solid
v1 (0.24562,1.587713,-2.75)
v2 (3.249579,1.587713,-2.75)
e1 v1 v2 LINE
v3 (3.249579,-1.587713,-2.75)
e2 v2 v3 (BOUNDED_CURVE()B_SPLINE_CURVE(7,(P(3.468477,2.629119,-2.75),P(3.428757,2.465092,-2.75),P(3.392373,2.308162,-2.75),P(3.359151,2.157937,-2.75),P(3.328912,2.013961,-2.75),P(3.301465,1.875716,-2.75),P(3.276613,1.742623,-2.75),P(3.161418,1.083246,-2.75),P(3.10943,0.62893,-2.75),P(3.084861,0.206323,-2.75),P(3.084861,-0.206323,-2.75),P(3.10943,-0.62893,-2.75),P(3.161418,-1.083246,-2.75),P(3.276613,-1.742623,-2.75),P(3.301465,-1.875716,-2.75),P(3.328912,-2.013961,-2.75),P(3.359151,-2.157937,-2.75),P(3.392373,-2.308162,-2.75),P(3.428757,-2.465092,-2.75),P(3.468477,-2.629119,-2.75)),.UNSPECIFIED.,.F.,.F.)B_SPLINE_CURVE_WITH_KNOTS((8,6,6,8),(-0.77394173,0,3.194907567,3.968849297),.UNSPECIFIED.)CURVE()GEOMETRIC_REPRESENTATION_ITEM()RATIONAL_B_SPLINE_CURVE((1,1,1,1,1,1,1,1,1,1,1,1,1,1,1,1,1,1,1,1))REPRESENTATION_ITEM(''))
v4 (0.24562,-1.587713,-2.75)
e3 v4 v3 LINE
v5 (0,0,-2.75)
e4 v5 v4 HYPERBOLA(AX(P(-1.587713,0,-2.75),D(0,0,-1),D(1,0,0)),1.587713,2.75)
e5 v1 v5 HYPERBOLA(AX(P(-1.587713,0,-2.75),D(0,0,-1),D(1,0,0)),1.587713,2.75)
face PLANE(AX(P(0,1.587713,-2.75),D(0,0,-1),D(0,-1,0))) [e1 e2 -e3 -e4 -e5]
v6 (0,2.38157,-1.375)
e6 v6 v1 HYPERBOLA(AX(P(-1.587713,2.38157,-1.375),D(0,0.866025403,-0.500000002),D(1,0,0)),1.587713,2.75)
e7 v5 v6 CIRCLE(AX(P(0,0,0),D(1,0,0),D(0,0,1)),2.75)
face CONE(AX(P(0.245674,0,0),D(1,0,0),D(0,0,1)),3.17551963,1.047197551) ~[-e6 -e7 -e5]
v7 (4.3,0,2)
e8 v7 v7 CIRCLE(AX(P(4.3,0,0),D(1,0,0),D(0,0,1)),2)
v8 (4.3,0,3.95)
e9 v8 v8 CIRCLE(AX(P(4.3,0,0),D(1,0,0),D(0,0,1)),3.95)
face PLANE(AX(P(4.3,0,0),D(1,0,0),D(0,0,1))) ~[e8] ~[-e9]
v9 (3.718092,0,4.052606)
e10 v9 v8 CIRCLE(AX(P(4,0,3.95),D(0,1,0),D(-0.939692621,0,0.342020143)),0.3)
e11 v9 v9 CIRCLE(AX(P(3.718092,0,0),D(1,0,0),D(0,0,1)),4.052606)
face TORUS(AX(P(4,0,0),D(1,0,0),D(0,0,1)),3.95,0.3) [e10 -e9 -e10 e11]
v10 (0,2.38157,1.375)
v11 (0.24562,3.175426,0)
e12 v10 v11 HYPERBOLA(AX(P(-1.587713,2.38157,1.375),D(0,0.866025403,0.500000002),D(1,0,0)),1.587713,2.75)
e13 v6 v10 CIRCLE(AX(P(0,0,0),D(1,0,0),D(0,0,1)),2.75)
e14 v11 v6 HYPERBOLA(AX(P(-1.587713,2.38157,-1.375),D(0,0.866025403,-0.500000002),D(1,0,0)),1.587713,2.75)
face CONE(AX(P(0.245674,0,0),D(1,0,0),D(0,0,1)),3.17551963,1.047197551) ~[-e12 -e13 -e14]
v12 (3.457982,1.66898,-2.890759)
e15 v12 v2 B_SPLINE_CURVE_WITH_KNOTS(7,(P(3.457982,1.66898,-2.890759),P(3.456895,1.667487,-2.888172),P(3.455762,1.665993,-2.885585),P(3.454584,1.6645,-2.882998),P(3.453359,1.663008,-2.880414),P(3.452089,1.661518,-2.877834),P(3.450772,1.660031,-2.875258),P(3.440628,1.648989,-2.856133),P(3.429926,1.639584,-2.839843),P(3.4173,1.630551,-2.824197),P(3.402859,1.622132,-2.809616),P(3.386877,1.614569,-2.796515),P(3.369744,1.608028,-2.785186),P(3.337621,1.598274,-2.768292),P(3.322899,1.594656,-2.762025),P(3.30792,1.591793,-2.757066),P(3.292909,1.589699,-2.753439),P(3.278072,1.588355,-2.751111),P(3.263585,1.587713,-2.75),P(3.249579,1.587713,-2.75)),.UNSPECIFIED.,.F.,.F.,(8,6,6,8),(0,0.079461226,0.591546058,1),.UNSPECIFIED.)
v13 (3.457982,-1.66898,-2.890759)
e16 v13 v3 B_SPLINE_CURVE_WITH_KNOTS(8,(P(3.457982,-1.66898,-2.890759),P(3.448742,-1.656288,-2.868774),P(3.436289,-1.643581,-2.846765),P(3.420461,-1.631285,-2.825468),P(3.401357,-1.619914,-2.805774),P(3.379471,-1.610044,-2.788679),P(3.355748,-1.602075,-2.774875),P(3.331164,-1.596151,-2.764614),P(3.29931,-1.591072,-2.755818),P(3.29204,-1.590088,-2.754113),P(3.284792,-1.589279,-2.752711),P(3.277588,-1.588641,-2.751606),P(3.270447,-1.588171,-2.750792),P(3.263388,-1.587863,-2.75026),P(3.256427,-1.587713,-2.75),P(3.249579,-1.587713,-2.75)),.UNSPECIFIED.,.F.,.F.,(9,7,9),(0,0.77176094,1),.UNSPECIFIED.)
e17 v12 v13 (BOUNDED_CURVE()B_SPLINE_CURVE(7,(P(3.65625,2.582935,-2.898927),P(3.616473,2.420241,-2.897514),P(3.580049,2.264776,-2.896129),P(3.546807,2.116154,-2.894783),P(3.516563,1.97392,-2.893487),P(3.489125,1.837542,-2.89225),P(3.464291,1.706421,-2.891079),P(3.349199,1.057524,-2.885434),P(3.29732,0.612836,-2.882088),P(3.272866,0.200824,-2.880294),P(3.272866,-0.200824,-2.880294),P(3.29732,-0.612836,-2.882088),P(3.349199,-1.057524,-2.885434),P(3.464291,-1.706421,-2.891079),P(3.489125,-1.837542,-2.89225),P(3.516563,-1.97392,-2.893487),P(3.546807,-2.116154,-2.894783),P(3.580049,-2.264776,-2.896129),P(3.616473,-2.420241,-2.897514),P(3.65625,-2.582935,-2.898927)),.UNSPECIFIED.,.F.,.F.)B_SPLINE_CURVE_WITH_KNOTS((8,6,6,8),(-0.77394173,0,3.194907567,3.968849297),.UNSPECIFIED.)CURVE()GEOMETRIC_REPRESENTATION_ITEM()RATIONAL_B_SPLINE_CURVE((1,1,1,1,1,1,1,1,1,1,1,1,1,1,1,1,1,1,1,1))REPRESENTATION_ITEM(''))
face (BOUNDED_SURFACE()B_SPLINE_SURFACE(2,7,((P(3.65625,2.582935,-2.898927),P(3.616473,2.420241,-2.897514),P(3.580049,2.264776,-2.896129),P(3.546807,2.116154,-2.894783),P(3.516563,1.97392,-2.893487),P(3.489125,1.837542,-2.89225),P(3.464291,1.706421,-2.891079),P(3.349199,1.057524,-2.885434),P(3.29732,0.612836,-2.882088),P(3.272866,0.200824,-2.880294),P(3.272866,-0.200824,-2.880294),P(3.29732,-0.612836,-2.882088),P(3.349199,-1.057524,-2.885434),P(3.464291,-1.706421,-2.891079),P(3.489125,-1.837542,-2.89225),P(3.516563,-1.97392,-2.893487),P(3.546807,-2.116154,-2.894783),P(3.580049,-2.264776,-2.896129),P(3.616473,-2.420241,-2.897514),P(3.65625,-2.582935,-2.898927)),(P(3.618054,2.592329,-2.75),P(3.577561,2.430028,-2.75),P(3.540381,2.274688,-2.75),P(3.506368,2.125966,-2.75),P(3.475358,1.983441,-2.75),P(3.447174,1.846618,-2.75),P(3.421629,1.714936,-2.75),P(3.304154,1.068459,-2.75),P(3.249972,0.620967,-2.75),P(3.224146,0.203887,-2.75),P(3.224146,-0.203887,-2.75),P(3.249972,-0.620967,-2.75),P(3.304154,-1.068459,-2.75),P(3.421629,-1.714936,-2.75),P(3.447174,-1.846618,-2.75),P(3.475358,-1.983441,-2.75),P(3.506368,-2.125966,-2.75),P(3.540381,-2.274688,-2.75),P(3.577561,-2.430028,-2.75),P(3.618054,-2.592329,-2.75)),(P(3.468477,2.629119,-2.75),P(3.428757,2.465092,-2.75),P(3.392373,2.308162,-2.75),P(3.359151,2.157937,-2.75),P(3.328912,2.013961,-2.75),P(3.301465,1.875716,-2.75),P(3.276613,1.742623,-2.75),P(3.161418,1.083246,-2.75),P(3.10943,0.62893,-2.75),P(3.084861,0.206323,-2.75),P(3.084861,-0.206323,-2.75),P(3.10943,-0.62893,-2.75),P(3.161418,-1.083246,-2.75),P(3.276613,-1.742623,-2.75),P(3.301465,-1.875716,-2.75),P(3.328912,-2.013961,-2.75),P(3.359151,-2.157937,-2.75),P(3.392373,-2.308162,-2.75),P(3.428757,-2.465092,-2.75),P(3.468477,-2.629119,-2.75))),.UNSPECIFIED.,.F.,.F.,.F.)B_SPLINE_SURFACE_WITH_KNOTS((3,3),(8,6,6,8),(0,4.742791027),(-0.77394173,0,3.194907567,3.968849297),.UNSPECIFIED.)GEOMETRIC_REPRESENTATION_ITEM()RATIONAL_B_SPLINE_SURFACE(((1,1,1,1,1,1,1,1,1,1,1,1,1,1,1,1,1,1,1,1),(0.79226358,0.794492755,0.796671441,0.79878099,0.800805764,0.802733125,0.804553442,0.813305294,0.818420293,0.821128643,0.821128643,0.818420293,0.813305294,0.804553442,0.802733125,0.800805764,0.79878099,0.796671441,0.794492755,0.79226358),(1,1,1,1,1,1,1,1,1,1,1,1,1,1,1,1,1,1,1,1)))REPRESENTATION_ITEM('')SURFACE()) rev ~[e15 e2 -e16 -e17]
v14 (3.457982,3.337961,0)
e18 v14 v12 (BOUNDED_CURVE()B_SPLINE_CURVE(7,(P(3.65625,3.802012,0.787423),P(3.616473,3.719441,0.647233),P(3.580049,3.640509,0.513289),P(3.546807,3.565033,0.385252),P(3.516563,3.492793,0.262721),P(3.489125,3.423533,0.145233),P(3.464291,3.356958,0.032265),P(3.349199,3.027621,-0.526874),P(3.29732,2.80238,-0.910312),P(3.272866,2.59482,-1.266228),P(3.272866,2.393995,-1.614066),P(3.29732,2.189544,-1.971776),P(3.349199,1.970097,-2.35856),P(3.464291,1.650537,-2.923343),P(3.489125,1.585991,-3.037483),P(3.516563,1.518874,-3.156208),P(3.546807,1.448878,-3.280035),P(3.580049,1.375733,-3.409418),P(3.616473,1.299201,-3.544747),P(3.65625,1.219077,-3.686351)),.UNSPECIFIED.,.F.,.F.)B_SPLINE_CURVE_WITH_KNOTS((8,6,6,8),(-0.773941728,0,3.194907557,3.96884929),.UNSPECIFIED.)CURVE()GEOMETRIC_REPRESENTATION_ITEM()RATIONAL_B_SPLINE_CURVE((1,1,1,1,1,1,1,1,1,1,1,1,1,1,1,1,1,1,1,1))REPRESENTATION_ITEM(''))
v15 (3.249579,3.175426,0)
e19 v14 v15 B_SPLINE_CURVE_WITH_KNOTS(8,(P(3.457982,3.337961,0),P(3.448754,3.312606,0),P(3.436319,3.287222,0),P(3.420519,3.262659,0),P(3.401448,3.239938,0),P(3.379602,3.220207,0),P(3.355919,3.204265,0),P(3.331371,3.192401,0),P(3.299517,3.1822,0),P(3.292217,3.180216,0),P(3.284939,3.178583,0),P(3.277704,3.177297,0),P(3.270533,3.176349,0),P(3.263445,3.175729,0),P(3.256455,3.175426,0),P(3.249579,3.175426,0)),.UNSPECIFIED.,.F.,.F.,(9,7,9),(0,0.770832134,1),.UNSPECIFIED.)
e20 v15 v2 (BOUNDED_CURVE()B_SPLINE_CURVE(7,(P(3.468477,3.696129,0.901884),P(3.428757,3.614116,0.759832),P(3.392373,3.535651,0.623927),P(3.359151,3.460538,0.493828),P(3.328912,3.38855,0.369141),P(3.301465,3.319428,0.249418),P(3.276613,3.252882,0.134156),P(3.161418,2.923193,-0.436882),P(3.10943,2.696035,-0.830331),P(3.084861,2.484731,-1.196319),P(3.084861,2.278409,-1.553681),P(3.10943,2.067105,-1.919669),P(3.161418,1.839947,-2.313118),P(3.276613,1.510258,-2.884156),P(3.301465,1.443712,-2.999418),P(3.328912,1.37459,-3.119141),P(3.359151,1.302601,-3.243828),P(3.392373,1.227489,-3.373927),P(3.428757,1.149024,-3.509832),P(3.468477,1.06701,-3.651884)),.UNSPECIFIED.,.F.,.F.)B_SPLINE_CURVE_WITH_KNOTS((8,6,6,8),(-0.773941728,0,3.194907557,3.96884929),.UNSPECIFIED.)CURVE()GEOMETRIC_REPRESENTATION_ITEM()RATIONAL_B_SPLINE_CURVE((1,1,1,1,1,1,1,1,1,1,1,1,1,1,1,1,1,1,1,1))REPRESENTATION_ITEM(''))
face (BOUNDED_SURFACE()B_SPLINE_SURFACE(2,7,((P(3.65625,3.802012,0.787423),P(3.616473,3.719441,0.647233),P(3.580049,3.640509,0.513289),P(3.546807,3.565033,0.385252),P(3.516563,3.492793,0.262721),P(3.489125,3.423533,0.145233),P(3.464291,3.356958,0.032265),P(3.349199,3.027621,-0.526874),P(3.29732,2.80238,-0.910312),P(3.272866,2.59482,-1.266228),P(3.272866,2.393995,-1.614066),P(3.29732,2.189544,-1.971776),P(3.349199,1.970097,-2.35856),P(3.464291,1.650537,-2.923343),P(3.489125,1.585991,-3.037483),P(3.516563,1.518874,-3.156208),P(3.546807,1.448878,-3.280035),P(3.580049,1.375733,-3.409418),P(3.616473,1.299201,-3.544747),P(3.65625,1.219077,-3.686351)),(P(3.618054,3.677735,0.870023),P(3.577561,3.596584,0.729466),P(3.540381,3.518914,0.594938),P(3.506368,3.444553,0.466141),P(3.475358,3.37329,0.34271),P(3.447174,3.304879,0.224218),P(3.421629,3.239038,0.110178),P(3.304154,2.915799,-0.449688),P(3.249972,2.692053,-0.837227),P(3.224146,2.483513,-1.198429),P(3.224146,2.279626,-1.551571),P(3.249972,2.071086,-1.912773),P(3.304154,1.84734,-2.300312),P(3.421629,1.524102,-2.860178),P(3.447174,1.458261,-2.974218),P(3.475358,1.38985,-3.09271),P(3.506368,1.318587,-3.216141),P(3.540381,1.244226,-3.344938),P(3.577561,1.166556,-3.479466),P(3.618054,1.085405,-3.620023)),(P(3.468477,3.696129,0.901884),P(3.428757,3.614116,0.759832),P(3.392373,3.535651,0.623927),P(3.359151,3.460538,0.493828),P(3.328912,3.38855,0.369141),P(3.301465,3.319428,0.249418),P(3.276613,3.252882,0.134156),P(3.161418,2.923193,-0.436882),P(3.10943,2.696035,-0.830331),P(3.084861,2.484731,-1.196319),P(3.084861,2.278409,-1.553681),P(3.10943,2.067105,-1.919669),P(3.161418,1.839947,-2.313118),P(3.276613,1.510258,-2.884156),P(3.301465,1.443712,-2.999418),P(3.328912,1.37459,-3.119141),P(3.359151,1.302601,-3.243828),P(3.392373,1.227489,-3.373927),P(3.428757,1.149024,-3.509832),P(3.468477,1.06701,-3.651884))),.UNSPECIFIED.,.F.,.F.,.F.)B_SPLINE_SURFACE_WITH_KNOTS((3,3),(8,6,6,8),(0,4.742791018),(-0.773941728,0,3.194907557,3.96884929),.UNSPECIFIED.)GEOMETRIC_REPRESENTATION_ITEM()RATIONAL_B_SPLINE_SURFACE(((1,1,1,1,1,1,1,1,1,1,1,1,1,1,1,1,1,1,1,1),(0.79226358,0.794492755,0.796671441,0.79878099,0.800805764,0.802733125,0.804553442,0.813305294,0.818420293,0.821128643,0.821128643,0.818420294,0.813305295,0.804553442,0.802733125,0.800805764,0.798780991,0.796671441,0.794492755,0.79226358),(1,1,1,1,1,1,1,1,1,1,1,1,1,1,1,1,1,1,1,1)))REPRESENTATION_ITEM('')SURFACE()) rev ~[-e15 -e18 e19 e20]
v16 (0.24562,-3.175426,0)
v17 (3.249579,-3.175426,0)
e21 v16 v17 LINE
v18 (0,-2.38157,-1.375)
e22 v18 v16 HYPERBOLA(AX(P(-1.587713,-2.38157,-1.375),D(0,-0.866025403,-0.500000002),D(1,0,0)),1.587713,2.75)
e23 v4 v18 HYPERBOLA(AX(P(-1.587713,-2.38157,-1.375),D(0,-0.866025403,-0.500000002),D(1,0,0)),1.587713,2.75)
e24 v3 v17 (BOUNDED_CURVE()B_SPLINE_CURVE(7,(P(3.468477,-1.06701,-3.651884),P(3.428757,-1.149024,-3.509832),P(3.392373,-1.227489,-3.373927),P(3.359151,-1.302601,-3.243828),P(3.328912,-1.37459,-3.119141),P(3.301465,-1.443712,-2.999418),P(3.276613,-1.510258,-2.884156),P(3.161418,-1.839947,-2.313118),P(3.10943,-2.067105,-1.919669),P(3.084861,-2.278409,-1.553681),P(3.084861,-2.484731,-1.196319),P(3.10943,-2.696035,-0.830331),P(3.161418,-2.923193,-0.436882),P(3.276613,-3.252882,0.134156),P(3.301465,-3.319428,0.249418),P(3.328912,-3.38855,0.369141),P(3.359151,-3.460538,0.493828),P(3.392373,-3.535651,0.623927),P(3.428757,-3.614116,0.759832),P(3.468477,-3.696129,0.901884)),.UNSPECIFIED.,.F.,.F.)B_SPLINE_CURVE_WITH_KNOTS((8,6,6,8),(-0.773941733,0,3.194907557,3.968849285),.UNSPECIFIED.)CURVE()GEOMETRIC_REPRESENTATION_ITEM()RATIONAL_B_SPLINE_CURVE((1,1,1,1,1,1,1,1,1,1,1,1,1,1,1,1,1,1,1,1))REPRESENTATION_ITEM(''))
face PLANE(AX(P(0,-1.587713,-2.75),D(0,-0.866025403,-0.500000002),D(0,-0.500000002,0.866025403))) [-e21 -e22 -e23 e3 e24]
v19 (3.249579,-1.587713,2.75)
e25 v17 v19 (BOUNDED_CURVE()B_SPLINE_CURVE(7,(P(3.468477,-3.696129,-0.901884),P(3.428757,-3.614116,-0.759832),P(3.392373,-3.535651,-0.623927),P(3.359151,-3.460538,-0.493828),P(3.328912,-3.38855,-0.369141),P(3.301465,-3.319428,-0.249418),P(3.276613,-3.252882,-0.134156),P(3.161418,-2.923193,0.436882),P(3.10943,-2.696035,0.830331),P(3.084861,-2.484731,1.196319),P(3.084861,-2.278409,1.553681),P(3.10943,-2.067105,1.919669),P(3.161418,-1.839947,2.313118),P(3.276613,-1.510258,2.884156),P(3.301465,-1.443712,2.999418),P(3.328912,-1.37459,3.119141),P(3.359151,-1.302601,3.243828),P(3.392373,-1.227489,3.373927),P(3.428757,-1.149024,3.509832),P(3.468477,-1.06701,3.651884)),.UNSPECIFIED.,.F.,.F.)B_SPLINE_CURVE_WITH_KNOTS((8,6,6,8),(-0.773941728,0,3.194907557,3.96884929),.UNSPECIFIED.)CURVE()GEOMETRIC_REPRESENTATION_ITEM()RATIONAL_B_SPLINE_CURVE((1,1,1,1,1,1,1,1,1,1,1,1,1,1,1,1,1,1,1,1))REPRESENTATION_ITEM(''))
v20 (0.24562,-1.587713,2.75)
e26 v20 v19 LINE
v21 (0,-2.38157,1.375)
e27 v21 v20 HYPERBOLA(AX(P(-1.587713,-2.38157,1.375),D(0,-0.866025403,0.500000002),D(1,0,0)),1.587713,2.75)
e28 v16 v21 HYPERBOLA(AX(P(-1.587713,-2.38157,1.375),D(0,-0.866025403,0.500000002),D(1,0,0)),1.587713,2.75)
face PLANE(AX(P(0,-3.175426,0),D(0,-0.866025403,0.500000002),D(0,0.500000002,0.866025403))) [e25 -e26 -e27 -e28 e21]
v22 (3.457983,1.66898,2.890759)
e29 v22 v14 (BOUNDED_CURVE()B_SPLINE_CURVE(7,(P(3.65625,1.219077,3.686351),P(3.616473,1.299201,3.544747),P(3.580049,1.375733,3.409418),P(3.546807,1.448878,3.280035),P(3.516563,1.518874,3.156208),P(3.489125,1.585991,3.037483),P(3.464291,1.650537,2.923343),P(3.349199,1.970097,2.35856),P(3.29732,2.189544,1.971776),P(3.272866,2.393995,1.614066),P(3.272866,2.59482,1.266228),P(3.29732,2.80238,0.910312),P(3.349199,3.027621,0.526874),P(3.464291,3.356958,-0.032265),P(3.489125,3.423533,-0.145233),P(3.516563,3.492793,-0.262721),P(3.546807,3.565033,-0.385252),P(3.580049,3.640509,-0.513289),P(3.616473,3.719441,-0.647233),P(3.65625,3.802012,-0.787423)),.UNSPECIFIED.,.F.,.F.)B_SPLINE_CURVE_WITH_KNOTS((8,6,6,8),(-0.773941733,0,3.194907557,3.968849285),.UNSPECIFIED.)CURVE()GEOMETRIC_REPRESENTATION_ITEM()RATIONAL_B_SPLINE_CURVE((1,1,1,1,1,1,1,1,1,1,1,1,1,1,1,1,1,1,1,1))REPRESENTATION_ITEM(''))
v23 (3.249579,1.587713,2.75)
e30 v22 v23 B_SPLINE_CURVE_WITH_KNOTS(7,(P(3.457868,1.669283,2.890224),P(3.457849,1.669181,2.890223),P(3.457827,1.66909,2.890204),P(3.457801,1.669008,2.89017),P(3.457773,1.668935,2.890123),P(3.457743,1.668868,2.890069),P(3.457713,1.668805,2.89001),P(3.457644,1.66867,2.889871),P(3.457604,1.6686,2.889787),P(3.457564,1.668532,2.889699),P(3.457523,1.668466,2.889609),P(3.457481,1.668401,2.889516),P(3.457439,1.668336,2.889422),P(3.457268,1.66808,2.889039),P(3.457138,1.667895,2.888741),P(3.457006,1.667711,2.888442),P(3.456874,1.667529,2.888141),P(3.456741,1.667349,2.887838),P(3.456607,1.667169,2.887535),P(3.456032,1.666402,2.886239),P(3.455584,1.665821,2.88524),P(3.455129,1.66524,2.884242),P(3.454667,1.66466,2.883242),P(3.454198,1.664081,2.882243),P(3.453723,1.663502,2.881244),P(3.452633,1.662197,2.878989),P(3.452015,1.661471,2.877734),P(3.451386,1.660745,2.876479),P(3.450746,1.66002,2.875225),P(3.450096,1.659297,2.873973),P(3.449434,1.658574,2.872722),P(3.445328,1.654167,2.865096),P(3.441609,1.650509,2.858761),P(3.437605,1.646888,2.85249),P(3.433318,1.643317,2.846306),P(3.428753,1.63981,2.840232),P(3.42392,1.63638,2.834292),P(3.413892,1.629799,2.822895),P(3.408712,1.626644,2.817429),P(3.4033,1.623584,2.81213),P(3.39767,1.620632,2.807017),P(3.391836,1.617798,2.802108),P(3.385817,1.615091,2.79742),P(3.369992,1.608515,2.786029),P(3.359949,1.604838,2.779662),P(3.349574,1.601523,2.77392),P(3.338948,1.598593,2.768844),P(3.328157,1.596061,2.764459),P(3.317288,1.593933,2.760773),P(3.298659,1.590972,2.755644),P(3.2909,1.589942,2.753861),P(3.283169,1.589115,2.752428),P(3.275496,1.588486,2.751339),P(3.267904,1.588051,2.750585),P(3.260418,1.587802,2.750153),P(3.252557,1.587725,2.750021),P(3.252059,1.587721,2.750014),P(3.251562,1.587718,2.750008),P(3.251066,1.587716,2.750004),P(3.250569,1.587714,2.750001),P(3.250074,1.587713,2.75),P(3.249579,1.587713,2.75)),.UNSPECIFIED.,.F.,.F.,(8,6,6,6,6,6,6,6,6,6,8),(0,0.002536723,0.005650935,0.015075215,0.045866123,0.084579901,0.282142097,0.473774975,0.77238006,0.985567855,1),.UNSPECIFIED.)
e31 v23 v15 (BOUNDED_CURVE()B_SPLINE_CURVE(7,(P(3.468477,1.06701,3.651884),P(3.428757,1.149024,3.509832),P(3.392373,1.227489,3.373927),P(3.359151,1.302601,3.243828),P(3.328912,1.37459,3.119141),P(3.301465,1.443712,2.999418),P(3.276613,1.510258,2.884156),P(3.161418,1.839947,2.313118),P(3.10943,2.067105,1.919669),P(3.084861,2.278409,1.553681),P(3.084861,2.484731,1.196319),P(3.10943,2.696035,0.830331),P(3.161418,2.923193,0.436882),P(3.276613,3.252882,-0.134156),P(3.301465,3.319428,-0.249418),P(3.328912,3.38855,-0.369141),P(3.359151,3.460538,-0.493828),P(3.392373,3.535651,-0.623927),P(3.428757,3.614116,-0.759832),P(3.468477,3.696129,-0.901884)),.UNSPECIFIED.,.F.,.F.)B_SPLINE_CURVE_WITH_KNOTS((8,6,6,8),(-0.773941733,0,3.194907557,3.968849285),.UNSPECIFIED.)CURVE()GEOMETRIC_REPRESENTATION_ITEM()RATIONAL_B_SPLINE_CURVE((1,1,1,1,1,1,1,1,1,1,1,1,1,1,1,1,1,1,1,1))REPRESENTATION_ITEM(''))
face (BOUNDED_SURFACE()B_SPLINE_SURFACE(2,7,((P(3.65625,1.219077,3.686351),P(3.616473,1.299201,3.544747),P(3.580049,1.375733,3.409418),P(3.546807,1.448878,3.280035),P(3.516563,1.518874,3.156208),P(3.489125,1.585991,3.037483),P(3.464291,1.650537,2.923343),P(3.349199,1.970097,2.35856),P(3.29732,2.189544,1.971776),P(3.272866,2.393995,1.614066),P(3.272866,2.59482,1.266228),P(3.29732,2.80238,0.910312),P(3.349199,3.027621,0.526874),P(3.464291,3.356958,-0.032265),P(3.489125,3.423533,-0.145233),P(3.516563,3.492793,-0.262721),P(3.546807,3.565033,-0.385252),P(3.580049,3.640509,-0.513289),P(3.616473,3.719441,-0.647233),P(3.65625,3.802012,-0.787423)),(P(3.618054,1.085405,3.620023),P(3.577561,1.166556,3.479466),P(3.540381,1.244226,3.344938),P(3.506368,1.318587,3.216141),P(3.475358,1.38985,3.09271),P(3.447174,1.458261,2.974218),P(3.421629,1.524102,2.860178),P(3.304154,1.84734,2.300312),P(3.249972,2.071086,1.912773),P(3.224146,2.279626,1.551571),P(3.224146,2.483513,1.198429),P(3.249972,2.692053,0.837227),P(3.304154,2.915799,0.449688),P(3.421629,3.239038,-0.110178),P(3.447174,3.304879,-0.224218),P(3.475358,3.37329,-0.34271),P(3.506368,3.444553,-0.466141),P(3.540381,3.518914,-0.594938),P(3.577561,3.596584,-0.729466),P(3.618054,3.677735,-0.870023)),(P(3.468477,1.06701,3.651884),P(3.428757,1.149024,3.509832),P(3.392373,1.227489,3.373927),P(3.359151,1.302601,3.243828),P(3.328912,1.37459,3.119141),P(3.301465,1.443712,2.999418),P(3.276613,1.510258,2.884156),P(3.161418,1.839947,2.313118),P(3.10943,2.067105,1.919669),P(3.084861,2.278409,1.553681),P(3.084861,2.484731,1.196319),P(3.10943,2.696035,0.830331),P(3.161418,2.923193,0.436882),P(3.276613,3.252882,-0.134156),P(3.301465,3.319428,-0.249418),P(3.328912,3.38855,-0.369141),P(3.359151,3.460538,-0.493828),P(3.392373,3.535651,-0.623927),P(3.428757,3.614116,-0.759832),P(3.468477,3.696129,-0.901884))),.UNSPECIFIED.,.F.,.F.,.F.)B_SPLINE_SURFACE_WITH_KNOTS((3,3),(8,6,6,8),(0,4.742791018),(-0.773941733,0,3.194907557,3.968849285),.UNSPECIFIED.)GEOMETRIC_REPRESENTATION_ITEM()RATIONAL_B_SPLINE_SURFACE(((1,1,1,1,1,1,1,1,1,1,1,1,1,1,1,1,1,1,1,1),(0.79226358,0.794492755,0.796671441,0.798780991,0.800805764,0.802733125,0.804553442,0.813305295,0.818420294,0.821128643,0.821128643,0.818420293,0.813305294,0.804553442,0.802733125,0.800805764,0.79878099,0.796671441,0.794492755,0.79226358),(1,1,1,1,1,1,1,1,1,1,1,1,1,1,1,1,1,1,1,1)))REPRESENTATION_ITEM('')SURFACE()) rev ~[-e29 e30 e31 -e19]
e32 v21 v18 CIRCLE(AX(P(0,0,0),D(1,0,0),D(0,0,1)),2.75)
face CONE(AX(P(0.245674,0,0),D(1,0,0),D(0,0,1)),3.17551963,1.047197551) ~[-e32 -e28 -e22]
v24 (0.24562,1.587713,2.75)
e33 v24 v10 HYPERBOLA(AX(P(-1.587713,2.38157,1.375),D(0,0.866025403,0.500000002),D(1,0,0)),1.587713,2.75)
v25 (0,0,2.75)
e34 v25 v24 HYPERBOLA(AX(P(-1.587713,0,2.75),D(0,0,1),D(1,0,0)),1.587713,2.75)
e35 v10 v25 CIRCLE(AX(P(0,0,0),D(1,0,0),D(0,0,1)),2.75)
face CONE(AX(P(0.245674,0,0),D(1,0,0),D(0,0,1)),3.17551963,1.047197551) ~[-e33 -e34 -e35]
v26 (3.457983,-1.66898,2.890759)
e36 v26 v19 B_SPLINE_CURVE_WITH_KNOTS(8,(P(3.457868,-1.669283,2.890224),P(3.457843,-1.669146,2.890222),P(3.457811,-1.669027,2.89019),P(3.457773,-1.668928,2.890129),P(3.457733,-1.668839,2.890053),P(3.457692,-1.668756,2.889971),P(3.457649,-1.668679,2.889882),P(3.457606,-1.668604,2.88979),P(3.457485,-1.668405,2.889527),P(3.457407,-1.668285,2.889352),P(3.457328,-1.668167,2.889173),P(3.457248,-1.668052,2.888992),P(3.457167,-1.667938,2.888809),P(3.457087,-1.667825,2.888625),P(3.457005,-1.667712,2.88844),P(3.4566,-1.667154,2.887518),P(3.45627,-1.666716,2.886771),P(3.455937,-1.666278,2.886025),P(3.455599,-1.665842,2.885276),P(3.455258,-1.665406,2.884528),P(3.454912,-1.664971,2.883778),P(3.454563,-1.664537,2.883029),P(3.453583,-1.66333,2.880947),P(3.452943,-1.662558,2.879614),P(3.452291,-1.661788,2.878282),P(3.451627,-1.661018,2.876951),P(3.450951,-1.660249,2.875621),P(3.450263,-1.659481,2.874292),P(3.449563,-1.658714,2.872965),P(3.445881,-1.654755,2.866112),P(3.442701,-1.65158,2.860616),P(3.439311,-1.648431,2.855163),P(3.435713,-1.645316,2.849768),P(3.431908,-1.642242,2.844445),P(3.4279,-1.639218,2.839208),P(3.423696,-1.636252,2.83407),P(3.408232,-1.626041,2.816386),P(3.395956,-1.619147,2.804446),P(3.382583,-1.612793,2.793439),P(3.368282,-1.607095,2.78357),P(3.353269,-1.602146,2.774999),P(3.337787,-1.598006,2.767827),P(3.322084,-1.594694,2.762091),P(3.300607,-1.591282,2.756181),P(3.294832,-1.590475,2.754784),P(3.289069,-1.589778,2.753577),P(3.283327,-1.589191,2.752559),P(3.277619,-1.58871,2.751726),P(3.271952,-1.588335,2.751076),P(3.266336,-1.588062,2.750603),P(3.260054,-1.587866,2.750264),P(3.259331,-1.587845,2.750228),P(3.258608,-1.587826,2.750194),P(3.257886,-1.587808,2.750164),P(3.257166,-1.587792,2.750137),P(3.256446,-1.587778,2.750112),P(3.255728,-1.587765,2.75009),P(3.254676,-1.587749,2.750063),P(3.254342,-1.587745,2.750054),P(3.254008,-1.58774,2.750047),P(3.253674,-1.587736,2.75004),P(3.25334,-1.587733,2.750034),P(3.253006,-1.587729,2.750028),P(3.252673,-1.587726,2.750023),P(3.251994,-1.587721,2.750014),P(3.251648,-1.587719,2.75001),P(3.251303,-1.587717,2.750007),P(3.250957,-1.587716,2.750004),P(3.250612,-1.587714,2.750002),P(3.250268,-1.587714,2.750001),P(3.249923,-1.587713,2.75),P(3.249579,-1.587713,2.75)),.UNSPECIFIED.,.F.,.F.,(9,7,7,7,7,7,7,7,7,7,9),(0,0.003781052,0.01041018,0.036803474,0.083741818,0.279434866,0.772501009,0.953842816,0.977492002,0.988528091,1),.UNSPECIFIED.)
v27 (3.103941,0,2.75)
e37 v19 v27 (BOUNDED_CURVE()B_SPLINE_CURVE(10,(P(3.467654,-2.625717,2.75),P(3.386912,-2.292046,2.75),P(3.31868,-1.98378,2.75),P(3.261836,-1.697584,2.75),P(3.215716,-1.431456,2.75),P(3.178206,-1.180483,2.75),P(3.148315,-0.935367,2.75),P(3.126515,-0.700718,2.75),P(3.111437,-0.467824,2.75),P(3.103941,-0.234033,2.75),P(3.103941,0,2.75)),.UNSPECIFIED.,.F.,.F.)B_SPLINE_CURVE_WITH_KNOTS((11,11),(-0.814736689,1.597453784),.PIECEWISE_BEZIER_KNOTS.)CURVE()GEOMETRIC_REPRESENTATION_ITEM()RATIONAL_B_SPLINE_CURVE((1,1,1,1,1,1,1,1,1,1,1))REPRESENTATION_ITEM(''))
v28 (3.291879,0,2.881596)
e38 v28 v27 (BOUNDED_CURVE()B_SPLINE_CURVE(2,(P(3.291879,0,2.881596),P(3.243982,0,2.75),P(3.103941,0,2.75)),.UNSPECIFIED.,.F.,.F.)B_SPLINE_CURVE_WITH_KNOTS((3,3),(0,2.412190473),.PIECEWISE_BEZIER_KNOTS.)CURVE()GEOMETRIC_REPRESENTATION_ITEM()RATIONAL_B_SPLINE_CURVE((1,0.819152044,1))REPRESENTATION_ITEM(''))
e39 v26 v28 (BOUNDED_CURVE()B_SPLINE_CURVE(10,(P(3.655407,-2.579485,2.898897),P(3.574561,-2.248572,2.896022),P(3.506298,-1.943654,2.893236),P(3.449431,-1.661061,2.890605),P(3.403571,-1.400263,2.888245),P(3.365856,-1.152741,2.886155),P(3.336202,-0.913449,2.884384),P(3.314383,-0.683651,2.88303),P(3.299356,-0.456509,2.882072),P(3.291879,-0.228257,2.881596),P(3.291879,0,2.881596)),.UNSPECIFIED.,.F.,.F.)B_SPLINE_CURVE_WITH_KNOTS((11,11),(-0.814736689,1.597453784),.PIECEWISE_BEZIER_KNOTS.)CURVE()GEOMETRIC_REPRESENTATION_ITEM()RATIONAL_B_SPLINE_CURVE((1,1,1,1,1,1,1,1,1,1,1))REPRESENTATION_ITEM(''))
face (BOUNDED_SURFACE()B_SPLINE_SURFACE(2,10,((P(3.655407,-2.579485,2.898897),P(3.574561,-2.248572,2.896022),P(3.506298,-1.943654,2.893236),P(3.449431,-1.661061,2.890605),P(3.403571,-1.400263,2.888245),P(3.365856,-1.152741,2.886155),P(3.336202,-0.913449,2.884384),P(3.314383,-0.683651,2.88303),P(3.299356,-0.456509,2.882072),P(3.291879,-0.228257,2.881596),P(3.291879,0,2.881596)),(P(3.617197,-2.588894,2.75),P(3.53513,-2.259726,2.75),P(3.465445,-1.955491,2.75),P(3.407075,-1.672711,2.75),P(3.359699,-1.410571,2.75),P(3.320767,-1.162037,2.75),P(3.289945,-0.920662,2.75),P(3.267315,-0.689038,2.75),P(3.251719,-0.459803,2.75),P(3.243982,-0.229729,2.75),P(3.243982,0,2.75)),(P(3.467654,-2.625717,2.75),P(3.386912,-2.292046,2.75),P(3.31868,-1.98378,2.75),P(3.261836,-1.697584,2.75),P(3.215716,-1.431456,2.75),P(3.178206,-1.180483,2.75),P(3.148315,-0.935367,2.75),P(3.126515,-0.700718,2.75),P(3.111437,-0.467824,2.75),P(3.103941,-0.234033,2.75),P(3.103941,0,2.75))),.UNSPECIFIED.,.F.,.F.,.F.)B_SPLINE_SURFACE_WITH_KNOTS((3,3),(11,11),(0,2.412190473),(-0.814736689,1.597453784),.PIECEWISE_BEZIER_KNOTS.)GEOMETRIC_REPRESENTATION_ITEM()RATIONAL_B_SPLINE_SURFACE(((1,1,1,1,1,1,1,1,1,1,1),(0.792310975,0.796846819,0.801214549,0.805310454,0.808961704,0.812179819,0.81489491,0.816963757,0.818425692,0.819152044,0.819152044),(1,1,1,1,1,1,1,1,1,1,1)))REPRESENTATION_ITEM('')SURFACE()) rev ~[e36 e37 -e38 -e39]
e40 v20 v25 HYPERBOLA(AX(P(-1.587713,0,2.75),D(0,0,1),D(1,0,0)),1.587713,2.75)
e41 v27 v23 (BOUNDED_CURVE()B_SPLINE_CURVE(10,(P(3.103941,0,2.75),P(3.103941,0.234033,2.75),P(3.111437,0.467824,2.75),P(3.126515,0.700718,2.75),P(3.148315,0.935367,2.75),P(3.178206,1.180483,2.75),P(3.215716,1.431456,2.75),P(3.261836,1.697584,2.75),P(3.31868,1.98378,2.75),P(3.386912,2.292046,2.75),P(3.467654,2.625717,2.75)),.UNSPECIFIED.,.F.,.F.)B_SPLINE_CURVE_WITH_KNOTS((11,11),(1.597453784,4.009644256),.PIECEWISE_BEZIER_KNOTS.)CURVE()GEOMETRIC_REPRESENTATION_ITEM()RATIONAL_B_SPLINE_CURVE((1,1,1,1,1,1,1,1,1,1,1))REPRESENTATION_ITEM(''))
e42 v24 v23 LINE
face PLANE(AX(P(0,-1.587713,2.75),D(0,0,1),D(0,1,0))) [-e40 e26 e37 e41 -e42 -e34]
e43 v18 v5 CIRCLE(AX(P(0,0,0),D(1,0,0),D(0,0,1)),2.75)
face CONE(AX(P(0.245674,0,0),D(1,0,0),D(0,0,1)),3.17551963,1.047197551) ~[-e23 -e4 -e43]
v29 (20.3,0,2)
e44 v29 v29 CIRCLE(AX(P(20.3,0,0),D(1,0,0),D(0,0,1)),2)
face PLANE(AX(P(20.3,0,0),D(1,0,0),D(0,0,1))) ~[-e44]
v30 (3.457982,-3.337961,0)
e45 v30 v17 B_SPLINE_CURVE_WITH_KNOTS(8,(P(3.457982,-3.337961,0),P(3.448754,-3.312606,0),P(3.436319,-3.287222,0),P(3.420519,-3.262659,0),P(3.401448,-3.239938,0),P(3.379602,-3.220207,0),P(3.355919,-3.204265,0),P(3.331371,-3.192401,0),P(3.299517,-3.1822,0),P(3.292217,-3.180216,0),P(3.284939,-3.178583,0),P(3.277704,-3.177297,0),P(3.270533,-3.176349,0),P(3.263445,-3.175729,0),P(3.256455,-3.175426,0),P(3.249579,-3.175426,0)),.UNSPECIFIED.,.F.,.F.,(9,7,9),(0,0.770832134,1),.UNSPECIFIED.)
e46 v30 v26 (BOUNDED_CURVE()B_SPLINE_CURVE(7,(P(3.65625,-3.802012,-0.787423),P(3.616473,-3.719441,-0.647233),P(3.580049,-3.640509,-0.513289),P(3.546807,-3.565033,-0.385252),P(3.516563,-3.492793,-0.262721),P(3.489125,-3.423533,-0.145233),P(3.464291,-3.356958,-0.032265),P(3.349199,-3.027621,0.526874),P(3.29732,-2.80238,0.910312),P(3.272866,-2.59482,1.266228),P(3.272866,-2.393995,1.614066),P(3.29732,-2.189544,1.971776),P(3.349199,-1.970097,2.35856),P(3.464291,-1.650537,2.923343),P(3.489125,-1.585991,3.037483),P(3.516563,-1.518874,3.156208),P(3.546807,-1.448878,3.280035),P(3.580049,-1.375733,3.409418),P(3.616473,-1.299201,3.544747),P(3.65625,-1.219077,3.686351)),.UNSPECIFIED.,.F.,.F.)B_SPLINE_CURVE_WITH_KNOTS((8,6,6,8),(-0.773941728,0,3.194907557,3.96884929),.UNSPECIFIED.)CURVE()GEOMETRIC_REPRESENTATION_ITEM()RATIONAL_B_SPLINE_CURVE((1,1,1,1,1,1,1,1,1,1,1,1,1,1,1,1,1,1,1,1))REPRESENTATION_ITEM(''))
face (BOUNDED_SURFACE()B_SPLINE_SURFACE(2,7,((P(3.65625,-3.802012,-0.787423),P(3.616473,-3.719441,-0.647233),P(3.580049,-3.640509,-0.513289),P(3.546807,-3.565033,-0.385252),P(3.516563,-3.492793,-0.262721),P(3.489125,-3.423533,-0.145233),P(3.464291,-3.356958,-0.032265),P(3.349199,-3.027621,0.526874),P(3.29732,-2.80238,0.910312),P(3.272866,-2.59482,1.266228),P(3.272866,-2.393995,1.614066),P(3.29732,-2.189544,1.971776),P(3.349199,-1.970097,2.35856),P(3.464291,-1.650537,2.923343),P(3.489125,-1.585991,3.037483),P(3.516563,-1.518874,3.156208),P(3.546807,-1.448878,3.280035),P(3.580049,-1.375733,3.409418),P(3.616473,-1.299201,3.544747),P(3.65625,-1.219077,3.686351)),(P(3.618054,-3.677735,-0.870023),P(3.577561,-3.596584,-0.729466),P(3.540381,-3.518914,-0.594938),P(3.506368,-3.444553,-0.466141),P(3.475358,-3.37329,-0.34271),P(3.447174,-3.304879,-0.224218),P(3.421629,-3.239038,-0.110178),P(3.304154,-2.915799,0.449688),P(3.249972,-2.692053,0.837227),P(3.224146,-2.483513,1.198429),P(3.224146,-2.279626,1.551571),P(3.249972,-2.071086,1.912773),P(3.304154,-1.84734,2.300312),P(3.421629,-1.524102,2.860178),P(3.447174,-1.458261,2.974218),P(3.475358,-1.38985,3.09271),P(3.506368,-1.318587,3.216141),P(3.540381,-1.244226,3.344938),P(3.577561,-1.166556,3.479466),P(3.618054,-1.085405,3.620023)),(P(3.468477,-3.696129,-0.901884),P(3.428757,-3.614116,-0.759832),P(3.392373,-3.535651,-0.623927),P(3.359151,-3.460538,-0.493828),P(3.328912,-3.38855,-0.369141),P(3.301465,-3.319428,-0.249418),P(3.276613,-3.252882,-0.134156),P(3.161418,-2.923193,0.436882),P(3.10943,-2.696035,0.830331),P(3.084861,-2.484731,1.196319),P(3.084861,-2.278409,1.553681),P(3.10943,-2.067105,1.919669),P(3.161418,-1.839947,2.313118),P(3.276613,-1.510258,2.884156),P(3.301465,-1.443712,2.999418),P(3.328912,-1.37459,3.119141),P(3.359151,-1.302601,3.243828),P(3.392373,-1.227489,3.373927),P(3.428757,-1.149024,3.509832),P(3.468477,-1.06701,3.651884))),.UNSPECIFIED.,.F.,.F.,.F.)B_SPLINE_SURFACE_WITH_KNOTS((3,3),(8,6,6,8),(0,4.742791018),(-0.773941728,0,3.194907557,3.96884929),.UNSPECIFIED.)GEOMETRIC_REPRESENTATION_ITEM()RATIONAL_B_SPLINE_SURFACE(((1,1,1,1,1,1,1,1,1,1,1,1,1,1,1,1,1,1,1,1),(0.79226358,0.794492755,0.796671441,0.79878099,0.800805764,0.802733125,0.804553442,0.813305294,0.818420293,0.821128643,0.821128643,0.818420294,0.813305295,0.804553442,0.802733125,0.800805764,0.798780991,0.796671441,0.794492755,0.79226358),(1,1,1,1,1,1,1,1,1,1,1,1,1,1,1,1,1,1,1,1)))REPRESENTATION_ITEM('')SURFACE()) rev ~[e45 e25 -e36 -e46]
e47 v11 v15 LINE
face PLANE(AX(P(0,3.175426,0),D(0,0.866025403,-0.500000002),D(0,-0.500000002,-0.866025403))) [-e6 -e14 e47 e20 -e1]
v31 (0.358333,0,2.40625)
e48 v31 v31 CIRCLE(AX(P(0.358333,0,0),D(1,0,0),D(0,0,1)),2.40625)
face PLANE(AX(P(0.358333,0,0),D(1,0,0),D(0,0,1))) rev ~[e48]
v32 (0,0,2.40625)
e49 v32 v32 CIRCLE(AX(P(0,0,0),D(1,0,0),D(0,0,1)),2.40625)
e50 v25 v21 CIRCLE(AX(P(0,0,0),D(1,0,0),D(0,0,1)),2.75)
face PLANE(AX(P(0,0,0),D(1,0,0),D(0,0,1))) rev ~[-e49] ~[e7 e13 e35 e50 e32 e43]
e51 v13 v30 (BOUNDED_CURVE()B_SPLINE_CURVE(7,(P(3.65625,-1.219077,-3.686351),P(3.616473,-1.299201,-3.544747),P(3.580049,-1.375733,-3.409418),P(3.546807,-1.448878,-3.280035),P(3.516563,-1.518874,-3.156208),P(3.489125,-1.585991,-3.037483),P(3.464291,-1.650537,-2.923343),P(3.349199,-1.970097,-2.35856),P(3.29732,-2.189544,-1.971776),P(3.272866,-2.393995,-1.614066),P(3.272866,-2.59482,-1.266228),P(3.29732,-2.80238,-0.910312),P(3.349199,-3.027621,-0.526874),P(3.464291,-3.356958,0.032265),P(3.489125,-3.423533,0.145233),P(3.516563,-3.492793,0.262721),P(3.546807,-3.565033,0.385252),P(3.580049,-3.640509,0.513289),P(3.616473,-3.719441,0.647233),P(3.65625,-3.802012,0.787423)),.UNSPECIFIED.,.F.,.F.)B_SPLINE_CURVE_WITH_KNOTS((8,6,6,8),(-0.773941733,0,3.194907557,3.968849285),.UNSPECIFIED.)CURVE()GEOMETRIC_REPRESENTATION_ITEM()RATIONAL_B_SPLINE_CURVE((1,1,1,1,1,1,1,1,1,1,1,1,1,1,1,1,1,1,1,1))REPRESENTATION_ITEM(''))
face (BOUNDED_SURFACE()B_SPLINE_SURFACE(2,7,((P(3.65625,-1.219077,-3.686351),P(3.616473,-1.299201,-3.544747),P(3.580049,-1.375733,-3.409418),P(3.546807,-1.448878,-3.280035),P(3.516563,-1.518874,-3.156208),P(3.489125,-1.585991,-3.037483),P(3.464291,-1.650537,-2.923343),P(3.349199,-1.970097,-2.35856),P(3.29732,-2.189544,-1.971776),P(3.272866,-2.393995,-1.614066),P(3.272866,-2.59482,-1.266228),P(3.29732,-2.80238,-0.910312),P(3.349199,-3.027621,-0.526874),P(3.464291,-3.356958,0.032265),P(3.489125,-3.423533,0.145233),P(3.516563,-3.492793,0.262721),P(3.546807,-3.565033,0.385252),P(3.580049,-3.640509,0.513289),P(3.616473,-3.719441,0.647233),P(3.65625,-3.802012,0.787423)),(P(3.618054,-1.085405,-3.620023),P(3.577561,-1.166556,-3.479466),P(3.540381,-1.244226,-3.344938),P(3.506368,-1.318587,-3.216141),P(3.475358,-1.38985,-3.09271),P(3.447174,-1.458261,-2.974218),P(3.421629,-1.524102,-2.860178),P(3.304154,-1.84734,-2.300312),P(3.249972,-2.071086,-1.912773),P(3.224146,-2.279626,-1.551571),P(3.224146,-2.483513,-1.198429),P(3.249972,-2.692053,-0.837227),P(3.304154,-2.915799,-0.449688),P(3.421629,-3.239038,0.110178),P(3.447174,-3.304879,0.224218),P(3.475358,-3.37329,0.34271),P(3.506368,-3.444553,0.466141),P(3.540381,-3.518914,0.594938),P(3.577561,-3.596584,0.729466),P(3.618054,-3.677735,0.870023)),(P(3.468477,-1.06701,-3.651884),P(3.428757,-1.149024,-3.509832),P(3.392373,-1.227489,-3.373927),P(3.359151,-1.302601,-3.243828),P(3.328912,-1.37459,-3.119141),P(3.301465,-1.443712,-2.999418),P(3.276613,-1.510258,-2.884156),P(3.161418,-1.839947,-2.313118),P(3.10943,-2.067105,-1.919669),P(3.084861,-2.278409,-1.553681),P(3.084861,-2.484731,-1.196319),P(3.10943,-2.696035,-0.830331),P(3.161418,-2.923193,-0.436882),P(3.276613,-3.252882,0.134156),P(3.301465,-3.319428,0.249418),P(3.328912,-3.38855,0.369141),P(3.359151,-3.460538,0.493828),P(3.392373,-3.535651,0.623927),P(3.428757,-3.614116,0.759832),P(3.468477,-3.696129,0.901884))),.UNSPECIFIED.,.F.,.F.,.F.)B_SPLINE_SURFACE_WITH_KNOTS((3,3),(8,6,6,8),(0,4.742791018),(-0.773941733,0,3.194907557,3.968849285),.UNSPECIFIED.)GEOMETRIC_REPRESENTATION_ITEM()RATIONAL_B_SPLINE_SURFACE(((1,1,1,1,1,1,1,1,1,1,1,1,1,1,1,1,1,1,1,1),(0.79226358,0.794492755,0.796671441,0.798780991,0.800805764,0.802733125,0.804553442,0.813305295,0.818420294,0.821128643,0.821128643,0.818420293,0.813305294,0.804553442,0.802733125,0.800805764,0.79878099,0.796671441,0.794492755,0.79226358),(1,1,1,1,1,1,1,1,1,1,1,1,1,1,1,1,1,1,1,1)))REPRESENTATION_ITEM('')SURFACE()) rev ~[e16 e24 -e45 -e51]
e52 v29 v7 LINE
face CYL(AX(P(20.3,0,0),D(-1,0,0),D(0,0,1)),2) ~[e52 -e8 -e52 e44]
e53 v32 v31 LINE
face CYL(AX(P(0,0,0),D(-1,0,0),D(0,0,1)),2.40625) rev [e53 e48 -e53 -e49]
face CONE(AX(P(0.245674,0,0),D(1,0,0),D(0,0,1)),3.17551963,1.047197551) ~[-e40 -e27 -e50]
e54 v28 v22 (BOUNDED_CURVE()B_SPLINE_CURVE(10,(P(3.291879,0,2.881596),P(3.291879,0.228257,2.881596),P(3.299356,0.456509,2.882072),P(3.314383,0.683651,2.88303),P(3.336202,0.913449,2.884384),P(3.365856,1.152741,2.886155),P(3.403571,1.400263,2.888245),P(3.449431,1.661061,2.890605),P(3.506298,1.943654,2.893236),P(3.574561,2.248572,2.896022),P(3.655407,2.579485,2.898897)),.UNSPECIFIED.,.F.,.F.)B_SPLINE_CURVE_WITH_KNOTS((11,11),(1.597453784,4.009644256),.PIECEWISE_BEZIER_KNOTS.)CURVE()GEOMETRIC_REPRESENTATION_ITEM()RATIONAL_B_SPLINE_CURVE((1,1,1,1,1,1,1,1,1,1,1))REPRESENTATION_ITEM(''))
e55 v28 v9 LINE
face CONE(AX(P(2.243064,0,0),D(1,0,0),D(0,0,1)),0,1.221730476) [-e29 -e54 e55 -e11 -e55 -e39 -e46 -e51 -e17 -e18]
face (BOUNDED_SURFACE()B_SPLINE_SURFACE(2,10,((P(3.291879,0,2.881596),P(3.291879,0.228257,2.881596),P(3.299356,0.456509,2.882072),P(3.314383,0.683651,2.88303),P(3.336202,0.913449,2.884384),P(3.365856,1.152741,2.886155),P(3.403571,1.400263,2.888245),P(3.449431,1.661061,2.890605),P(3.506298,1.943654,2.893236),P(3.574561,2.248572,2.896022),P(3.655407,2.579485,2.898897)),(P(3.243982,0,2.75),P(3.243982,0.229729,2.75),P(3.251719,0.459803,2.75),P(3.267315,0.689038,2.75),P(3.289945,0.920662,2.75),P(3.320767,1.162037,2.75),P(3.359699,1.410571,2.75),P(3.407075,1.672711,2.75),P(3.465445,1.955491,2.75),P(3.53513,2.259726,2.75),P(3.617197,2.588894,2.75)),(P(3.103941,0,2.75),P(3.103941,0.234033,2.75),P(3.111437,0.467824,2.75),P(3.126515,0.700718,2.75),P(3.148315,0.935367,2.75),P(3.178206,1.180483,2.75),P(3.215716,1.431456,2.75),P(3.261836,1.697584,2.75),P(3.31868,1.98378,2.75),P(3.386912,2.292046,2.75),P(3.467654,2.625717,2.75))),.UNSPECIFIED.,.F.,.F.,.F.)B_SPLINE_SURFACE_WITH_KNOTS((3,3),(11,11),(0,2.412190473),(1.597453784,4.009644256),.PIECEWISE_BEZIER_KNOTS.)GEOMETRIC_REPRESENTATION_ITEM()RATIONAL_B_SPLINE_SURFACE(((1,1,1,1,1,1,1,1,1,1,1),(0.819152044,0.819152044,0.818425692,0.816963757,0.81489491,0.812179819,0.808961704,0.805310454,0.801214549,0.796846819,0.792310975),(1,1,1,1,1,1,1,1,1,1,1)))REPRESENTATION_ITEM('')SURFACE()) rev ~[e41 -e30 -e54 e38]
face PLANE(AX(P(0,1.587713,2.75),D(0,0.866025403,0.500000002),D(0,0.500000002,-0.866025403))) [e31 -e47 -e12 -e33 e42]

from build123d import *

# Parameters (mm, degrees)
SKETCH2_R         = 3.207274827
HEX_DIE_DEPTH     = 4.3
FLANGEHEXFILLET_R = 0.2
SKETCH4_R         = 2.40625
INDENT_DEPTH      = 0.358333333


with BuildPart() as part:
    # BodySke → Base-Revolve (revolve)
    with BuildSketch(Plane.XY, mode=Mode.PRIVATE) as base_revolve_sk:
        Polygon((4.3, 2), (4.3, 3.17551963), (0.245673873, 3.17551963), (0, 2.75), (0, 0), (20.3, 0), (20.3, 2), align=None)
    revolve(base_revolve_sk.sketch.rotate(Axis((-25.4, 0, 0), (1, 0, 0)), 90), axis=Axis((-25.4, 0, 0), (1, 0, 0)))

    # Sketch2 → Hex-Die (cut)
    with BuildSketch(Plane(origin=(0, 0, 0), x_dir=(0, 0, -1), z_dir=(1, 0, 0))):
        Circle(SKETCH2_R)
        Polygon((-2.75, 1.587713247), (0, 3.175426494), (2.75, 1.587713247), (2.75, -1.587713247), (0, -3.175426494), (-2.75, -1.587713247), align=None, mode=Mode.SUBTRACT)
    extrude(amount=HEX_DIE_DEPTH, mode=Mode.SUBTRACT)

    # Sketch5 → Flange (revolve)
    with BuildSketch(Plane.XY, mode=Mode.PRIVATE) as flange_sk:
        with BuildLine():
            Line((2.243064243, 0), (3.718092214, 4.052606043))
            ThreePointArc((3.718092214, 4.052606043), (4.052094453, 4.245442326), (4.3, 3.95))
            Line((4.3, 3.95), (4.3, 0))
            Line((4.3, 0), (2.243064243, 0))
        make_face()
    revolve(flange_sk.sketch.rotate(Axis((0, 0, 0), (1, 0, 0)), 90), axis=Axis((0, 0, 0), (1, 0, 0)))

    # FlangeHexFillet
    flangehexfillet_edges = [part.edges().sort_by_distance(p)[0] for p in [
        (3.285203168, 0.797319684, 2.75),
        (3.24398239, 2.381569871, 1.375),
        (3.24398239, 2.381569871, -1.375),
        (3.243982387, 0, -2.75),
        (3.24398239, -2.381569871, -1.375),
        (3.24398239, -2.381569871, 1.375),
        (3.285203168, -0.797319684, 2.75),
    ]]
    fillet(flangehexfillet_edges, radius=FLANGEHEXFILLET_R)

    # Sketch4 → Indent (cut)
    with BuildSketch(Plane(origin=(0, 0, 0), x_dir=(0, 0, -1), z_dir=(1, 0, 0))):
        with Locations(Location((0, 0, 0), (0, 0, 180))):
            Circle(SKETCH4_R)
    extrude(amount=INDENT_DEPTH, mode=Mode.SUBTRACT)


solid = part.part
